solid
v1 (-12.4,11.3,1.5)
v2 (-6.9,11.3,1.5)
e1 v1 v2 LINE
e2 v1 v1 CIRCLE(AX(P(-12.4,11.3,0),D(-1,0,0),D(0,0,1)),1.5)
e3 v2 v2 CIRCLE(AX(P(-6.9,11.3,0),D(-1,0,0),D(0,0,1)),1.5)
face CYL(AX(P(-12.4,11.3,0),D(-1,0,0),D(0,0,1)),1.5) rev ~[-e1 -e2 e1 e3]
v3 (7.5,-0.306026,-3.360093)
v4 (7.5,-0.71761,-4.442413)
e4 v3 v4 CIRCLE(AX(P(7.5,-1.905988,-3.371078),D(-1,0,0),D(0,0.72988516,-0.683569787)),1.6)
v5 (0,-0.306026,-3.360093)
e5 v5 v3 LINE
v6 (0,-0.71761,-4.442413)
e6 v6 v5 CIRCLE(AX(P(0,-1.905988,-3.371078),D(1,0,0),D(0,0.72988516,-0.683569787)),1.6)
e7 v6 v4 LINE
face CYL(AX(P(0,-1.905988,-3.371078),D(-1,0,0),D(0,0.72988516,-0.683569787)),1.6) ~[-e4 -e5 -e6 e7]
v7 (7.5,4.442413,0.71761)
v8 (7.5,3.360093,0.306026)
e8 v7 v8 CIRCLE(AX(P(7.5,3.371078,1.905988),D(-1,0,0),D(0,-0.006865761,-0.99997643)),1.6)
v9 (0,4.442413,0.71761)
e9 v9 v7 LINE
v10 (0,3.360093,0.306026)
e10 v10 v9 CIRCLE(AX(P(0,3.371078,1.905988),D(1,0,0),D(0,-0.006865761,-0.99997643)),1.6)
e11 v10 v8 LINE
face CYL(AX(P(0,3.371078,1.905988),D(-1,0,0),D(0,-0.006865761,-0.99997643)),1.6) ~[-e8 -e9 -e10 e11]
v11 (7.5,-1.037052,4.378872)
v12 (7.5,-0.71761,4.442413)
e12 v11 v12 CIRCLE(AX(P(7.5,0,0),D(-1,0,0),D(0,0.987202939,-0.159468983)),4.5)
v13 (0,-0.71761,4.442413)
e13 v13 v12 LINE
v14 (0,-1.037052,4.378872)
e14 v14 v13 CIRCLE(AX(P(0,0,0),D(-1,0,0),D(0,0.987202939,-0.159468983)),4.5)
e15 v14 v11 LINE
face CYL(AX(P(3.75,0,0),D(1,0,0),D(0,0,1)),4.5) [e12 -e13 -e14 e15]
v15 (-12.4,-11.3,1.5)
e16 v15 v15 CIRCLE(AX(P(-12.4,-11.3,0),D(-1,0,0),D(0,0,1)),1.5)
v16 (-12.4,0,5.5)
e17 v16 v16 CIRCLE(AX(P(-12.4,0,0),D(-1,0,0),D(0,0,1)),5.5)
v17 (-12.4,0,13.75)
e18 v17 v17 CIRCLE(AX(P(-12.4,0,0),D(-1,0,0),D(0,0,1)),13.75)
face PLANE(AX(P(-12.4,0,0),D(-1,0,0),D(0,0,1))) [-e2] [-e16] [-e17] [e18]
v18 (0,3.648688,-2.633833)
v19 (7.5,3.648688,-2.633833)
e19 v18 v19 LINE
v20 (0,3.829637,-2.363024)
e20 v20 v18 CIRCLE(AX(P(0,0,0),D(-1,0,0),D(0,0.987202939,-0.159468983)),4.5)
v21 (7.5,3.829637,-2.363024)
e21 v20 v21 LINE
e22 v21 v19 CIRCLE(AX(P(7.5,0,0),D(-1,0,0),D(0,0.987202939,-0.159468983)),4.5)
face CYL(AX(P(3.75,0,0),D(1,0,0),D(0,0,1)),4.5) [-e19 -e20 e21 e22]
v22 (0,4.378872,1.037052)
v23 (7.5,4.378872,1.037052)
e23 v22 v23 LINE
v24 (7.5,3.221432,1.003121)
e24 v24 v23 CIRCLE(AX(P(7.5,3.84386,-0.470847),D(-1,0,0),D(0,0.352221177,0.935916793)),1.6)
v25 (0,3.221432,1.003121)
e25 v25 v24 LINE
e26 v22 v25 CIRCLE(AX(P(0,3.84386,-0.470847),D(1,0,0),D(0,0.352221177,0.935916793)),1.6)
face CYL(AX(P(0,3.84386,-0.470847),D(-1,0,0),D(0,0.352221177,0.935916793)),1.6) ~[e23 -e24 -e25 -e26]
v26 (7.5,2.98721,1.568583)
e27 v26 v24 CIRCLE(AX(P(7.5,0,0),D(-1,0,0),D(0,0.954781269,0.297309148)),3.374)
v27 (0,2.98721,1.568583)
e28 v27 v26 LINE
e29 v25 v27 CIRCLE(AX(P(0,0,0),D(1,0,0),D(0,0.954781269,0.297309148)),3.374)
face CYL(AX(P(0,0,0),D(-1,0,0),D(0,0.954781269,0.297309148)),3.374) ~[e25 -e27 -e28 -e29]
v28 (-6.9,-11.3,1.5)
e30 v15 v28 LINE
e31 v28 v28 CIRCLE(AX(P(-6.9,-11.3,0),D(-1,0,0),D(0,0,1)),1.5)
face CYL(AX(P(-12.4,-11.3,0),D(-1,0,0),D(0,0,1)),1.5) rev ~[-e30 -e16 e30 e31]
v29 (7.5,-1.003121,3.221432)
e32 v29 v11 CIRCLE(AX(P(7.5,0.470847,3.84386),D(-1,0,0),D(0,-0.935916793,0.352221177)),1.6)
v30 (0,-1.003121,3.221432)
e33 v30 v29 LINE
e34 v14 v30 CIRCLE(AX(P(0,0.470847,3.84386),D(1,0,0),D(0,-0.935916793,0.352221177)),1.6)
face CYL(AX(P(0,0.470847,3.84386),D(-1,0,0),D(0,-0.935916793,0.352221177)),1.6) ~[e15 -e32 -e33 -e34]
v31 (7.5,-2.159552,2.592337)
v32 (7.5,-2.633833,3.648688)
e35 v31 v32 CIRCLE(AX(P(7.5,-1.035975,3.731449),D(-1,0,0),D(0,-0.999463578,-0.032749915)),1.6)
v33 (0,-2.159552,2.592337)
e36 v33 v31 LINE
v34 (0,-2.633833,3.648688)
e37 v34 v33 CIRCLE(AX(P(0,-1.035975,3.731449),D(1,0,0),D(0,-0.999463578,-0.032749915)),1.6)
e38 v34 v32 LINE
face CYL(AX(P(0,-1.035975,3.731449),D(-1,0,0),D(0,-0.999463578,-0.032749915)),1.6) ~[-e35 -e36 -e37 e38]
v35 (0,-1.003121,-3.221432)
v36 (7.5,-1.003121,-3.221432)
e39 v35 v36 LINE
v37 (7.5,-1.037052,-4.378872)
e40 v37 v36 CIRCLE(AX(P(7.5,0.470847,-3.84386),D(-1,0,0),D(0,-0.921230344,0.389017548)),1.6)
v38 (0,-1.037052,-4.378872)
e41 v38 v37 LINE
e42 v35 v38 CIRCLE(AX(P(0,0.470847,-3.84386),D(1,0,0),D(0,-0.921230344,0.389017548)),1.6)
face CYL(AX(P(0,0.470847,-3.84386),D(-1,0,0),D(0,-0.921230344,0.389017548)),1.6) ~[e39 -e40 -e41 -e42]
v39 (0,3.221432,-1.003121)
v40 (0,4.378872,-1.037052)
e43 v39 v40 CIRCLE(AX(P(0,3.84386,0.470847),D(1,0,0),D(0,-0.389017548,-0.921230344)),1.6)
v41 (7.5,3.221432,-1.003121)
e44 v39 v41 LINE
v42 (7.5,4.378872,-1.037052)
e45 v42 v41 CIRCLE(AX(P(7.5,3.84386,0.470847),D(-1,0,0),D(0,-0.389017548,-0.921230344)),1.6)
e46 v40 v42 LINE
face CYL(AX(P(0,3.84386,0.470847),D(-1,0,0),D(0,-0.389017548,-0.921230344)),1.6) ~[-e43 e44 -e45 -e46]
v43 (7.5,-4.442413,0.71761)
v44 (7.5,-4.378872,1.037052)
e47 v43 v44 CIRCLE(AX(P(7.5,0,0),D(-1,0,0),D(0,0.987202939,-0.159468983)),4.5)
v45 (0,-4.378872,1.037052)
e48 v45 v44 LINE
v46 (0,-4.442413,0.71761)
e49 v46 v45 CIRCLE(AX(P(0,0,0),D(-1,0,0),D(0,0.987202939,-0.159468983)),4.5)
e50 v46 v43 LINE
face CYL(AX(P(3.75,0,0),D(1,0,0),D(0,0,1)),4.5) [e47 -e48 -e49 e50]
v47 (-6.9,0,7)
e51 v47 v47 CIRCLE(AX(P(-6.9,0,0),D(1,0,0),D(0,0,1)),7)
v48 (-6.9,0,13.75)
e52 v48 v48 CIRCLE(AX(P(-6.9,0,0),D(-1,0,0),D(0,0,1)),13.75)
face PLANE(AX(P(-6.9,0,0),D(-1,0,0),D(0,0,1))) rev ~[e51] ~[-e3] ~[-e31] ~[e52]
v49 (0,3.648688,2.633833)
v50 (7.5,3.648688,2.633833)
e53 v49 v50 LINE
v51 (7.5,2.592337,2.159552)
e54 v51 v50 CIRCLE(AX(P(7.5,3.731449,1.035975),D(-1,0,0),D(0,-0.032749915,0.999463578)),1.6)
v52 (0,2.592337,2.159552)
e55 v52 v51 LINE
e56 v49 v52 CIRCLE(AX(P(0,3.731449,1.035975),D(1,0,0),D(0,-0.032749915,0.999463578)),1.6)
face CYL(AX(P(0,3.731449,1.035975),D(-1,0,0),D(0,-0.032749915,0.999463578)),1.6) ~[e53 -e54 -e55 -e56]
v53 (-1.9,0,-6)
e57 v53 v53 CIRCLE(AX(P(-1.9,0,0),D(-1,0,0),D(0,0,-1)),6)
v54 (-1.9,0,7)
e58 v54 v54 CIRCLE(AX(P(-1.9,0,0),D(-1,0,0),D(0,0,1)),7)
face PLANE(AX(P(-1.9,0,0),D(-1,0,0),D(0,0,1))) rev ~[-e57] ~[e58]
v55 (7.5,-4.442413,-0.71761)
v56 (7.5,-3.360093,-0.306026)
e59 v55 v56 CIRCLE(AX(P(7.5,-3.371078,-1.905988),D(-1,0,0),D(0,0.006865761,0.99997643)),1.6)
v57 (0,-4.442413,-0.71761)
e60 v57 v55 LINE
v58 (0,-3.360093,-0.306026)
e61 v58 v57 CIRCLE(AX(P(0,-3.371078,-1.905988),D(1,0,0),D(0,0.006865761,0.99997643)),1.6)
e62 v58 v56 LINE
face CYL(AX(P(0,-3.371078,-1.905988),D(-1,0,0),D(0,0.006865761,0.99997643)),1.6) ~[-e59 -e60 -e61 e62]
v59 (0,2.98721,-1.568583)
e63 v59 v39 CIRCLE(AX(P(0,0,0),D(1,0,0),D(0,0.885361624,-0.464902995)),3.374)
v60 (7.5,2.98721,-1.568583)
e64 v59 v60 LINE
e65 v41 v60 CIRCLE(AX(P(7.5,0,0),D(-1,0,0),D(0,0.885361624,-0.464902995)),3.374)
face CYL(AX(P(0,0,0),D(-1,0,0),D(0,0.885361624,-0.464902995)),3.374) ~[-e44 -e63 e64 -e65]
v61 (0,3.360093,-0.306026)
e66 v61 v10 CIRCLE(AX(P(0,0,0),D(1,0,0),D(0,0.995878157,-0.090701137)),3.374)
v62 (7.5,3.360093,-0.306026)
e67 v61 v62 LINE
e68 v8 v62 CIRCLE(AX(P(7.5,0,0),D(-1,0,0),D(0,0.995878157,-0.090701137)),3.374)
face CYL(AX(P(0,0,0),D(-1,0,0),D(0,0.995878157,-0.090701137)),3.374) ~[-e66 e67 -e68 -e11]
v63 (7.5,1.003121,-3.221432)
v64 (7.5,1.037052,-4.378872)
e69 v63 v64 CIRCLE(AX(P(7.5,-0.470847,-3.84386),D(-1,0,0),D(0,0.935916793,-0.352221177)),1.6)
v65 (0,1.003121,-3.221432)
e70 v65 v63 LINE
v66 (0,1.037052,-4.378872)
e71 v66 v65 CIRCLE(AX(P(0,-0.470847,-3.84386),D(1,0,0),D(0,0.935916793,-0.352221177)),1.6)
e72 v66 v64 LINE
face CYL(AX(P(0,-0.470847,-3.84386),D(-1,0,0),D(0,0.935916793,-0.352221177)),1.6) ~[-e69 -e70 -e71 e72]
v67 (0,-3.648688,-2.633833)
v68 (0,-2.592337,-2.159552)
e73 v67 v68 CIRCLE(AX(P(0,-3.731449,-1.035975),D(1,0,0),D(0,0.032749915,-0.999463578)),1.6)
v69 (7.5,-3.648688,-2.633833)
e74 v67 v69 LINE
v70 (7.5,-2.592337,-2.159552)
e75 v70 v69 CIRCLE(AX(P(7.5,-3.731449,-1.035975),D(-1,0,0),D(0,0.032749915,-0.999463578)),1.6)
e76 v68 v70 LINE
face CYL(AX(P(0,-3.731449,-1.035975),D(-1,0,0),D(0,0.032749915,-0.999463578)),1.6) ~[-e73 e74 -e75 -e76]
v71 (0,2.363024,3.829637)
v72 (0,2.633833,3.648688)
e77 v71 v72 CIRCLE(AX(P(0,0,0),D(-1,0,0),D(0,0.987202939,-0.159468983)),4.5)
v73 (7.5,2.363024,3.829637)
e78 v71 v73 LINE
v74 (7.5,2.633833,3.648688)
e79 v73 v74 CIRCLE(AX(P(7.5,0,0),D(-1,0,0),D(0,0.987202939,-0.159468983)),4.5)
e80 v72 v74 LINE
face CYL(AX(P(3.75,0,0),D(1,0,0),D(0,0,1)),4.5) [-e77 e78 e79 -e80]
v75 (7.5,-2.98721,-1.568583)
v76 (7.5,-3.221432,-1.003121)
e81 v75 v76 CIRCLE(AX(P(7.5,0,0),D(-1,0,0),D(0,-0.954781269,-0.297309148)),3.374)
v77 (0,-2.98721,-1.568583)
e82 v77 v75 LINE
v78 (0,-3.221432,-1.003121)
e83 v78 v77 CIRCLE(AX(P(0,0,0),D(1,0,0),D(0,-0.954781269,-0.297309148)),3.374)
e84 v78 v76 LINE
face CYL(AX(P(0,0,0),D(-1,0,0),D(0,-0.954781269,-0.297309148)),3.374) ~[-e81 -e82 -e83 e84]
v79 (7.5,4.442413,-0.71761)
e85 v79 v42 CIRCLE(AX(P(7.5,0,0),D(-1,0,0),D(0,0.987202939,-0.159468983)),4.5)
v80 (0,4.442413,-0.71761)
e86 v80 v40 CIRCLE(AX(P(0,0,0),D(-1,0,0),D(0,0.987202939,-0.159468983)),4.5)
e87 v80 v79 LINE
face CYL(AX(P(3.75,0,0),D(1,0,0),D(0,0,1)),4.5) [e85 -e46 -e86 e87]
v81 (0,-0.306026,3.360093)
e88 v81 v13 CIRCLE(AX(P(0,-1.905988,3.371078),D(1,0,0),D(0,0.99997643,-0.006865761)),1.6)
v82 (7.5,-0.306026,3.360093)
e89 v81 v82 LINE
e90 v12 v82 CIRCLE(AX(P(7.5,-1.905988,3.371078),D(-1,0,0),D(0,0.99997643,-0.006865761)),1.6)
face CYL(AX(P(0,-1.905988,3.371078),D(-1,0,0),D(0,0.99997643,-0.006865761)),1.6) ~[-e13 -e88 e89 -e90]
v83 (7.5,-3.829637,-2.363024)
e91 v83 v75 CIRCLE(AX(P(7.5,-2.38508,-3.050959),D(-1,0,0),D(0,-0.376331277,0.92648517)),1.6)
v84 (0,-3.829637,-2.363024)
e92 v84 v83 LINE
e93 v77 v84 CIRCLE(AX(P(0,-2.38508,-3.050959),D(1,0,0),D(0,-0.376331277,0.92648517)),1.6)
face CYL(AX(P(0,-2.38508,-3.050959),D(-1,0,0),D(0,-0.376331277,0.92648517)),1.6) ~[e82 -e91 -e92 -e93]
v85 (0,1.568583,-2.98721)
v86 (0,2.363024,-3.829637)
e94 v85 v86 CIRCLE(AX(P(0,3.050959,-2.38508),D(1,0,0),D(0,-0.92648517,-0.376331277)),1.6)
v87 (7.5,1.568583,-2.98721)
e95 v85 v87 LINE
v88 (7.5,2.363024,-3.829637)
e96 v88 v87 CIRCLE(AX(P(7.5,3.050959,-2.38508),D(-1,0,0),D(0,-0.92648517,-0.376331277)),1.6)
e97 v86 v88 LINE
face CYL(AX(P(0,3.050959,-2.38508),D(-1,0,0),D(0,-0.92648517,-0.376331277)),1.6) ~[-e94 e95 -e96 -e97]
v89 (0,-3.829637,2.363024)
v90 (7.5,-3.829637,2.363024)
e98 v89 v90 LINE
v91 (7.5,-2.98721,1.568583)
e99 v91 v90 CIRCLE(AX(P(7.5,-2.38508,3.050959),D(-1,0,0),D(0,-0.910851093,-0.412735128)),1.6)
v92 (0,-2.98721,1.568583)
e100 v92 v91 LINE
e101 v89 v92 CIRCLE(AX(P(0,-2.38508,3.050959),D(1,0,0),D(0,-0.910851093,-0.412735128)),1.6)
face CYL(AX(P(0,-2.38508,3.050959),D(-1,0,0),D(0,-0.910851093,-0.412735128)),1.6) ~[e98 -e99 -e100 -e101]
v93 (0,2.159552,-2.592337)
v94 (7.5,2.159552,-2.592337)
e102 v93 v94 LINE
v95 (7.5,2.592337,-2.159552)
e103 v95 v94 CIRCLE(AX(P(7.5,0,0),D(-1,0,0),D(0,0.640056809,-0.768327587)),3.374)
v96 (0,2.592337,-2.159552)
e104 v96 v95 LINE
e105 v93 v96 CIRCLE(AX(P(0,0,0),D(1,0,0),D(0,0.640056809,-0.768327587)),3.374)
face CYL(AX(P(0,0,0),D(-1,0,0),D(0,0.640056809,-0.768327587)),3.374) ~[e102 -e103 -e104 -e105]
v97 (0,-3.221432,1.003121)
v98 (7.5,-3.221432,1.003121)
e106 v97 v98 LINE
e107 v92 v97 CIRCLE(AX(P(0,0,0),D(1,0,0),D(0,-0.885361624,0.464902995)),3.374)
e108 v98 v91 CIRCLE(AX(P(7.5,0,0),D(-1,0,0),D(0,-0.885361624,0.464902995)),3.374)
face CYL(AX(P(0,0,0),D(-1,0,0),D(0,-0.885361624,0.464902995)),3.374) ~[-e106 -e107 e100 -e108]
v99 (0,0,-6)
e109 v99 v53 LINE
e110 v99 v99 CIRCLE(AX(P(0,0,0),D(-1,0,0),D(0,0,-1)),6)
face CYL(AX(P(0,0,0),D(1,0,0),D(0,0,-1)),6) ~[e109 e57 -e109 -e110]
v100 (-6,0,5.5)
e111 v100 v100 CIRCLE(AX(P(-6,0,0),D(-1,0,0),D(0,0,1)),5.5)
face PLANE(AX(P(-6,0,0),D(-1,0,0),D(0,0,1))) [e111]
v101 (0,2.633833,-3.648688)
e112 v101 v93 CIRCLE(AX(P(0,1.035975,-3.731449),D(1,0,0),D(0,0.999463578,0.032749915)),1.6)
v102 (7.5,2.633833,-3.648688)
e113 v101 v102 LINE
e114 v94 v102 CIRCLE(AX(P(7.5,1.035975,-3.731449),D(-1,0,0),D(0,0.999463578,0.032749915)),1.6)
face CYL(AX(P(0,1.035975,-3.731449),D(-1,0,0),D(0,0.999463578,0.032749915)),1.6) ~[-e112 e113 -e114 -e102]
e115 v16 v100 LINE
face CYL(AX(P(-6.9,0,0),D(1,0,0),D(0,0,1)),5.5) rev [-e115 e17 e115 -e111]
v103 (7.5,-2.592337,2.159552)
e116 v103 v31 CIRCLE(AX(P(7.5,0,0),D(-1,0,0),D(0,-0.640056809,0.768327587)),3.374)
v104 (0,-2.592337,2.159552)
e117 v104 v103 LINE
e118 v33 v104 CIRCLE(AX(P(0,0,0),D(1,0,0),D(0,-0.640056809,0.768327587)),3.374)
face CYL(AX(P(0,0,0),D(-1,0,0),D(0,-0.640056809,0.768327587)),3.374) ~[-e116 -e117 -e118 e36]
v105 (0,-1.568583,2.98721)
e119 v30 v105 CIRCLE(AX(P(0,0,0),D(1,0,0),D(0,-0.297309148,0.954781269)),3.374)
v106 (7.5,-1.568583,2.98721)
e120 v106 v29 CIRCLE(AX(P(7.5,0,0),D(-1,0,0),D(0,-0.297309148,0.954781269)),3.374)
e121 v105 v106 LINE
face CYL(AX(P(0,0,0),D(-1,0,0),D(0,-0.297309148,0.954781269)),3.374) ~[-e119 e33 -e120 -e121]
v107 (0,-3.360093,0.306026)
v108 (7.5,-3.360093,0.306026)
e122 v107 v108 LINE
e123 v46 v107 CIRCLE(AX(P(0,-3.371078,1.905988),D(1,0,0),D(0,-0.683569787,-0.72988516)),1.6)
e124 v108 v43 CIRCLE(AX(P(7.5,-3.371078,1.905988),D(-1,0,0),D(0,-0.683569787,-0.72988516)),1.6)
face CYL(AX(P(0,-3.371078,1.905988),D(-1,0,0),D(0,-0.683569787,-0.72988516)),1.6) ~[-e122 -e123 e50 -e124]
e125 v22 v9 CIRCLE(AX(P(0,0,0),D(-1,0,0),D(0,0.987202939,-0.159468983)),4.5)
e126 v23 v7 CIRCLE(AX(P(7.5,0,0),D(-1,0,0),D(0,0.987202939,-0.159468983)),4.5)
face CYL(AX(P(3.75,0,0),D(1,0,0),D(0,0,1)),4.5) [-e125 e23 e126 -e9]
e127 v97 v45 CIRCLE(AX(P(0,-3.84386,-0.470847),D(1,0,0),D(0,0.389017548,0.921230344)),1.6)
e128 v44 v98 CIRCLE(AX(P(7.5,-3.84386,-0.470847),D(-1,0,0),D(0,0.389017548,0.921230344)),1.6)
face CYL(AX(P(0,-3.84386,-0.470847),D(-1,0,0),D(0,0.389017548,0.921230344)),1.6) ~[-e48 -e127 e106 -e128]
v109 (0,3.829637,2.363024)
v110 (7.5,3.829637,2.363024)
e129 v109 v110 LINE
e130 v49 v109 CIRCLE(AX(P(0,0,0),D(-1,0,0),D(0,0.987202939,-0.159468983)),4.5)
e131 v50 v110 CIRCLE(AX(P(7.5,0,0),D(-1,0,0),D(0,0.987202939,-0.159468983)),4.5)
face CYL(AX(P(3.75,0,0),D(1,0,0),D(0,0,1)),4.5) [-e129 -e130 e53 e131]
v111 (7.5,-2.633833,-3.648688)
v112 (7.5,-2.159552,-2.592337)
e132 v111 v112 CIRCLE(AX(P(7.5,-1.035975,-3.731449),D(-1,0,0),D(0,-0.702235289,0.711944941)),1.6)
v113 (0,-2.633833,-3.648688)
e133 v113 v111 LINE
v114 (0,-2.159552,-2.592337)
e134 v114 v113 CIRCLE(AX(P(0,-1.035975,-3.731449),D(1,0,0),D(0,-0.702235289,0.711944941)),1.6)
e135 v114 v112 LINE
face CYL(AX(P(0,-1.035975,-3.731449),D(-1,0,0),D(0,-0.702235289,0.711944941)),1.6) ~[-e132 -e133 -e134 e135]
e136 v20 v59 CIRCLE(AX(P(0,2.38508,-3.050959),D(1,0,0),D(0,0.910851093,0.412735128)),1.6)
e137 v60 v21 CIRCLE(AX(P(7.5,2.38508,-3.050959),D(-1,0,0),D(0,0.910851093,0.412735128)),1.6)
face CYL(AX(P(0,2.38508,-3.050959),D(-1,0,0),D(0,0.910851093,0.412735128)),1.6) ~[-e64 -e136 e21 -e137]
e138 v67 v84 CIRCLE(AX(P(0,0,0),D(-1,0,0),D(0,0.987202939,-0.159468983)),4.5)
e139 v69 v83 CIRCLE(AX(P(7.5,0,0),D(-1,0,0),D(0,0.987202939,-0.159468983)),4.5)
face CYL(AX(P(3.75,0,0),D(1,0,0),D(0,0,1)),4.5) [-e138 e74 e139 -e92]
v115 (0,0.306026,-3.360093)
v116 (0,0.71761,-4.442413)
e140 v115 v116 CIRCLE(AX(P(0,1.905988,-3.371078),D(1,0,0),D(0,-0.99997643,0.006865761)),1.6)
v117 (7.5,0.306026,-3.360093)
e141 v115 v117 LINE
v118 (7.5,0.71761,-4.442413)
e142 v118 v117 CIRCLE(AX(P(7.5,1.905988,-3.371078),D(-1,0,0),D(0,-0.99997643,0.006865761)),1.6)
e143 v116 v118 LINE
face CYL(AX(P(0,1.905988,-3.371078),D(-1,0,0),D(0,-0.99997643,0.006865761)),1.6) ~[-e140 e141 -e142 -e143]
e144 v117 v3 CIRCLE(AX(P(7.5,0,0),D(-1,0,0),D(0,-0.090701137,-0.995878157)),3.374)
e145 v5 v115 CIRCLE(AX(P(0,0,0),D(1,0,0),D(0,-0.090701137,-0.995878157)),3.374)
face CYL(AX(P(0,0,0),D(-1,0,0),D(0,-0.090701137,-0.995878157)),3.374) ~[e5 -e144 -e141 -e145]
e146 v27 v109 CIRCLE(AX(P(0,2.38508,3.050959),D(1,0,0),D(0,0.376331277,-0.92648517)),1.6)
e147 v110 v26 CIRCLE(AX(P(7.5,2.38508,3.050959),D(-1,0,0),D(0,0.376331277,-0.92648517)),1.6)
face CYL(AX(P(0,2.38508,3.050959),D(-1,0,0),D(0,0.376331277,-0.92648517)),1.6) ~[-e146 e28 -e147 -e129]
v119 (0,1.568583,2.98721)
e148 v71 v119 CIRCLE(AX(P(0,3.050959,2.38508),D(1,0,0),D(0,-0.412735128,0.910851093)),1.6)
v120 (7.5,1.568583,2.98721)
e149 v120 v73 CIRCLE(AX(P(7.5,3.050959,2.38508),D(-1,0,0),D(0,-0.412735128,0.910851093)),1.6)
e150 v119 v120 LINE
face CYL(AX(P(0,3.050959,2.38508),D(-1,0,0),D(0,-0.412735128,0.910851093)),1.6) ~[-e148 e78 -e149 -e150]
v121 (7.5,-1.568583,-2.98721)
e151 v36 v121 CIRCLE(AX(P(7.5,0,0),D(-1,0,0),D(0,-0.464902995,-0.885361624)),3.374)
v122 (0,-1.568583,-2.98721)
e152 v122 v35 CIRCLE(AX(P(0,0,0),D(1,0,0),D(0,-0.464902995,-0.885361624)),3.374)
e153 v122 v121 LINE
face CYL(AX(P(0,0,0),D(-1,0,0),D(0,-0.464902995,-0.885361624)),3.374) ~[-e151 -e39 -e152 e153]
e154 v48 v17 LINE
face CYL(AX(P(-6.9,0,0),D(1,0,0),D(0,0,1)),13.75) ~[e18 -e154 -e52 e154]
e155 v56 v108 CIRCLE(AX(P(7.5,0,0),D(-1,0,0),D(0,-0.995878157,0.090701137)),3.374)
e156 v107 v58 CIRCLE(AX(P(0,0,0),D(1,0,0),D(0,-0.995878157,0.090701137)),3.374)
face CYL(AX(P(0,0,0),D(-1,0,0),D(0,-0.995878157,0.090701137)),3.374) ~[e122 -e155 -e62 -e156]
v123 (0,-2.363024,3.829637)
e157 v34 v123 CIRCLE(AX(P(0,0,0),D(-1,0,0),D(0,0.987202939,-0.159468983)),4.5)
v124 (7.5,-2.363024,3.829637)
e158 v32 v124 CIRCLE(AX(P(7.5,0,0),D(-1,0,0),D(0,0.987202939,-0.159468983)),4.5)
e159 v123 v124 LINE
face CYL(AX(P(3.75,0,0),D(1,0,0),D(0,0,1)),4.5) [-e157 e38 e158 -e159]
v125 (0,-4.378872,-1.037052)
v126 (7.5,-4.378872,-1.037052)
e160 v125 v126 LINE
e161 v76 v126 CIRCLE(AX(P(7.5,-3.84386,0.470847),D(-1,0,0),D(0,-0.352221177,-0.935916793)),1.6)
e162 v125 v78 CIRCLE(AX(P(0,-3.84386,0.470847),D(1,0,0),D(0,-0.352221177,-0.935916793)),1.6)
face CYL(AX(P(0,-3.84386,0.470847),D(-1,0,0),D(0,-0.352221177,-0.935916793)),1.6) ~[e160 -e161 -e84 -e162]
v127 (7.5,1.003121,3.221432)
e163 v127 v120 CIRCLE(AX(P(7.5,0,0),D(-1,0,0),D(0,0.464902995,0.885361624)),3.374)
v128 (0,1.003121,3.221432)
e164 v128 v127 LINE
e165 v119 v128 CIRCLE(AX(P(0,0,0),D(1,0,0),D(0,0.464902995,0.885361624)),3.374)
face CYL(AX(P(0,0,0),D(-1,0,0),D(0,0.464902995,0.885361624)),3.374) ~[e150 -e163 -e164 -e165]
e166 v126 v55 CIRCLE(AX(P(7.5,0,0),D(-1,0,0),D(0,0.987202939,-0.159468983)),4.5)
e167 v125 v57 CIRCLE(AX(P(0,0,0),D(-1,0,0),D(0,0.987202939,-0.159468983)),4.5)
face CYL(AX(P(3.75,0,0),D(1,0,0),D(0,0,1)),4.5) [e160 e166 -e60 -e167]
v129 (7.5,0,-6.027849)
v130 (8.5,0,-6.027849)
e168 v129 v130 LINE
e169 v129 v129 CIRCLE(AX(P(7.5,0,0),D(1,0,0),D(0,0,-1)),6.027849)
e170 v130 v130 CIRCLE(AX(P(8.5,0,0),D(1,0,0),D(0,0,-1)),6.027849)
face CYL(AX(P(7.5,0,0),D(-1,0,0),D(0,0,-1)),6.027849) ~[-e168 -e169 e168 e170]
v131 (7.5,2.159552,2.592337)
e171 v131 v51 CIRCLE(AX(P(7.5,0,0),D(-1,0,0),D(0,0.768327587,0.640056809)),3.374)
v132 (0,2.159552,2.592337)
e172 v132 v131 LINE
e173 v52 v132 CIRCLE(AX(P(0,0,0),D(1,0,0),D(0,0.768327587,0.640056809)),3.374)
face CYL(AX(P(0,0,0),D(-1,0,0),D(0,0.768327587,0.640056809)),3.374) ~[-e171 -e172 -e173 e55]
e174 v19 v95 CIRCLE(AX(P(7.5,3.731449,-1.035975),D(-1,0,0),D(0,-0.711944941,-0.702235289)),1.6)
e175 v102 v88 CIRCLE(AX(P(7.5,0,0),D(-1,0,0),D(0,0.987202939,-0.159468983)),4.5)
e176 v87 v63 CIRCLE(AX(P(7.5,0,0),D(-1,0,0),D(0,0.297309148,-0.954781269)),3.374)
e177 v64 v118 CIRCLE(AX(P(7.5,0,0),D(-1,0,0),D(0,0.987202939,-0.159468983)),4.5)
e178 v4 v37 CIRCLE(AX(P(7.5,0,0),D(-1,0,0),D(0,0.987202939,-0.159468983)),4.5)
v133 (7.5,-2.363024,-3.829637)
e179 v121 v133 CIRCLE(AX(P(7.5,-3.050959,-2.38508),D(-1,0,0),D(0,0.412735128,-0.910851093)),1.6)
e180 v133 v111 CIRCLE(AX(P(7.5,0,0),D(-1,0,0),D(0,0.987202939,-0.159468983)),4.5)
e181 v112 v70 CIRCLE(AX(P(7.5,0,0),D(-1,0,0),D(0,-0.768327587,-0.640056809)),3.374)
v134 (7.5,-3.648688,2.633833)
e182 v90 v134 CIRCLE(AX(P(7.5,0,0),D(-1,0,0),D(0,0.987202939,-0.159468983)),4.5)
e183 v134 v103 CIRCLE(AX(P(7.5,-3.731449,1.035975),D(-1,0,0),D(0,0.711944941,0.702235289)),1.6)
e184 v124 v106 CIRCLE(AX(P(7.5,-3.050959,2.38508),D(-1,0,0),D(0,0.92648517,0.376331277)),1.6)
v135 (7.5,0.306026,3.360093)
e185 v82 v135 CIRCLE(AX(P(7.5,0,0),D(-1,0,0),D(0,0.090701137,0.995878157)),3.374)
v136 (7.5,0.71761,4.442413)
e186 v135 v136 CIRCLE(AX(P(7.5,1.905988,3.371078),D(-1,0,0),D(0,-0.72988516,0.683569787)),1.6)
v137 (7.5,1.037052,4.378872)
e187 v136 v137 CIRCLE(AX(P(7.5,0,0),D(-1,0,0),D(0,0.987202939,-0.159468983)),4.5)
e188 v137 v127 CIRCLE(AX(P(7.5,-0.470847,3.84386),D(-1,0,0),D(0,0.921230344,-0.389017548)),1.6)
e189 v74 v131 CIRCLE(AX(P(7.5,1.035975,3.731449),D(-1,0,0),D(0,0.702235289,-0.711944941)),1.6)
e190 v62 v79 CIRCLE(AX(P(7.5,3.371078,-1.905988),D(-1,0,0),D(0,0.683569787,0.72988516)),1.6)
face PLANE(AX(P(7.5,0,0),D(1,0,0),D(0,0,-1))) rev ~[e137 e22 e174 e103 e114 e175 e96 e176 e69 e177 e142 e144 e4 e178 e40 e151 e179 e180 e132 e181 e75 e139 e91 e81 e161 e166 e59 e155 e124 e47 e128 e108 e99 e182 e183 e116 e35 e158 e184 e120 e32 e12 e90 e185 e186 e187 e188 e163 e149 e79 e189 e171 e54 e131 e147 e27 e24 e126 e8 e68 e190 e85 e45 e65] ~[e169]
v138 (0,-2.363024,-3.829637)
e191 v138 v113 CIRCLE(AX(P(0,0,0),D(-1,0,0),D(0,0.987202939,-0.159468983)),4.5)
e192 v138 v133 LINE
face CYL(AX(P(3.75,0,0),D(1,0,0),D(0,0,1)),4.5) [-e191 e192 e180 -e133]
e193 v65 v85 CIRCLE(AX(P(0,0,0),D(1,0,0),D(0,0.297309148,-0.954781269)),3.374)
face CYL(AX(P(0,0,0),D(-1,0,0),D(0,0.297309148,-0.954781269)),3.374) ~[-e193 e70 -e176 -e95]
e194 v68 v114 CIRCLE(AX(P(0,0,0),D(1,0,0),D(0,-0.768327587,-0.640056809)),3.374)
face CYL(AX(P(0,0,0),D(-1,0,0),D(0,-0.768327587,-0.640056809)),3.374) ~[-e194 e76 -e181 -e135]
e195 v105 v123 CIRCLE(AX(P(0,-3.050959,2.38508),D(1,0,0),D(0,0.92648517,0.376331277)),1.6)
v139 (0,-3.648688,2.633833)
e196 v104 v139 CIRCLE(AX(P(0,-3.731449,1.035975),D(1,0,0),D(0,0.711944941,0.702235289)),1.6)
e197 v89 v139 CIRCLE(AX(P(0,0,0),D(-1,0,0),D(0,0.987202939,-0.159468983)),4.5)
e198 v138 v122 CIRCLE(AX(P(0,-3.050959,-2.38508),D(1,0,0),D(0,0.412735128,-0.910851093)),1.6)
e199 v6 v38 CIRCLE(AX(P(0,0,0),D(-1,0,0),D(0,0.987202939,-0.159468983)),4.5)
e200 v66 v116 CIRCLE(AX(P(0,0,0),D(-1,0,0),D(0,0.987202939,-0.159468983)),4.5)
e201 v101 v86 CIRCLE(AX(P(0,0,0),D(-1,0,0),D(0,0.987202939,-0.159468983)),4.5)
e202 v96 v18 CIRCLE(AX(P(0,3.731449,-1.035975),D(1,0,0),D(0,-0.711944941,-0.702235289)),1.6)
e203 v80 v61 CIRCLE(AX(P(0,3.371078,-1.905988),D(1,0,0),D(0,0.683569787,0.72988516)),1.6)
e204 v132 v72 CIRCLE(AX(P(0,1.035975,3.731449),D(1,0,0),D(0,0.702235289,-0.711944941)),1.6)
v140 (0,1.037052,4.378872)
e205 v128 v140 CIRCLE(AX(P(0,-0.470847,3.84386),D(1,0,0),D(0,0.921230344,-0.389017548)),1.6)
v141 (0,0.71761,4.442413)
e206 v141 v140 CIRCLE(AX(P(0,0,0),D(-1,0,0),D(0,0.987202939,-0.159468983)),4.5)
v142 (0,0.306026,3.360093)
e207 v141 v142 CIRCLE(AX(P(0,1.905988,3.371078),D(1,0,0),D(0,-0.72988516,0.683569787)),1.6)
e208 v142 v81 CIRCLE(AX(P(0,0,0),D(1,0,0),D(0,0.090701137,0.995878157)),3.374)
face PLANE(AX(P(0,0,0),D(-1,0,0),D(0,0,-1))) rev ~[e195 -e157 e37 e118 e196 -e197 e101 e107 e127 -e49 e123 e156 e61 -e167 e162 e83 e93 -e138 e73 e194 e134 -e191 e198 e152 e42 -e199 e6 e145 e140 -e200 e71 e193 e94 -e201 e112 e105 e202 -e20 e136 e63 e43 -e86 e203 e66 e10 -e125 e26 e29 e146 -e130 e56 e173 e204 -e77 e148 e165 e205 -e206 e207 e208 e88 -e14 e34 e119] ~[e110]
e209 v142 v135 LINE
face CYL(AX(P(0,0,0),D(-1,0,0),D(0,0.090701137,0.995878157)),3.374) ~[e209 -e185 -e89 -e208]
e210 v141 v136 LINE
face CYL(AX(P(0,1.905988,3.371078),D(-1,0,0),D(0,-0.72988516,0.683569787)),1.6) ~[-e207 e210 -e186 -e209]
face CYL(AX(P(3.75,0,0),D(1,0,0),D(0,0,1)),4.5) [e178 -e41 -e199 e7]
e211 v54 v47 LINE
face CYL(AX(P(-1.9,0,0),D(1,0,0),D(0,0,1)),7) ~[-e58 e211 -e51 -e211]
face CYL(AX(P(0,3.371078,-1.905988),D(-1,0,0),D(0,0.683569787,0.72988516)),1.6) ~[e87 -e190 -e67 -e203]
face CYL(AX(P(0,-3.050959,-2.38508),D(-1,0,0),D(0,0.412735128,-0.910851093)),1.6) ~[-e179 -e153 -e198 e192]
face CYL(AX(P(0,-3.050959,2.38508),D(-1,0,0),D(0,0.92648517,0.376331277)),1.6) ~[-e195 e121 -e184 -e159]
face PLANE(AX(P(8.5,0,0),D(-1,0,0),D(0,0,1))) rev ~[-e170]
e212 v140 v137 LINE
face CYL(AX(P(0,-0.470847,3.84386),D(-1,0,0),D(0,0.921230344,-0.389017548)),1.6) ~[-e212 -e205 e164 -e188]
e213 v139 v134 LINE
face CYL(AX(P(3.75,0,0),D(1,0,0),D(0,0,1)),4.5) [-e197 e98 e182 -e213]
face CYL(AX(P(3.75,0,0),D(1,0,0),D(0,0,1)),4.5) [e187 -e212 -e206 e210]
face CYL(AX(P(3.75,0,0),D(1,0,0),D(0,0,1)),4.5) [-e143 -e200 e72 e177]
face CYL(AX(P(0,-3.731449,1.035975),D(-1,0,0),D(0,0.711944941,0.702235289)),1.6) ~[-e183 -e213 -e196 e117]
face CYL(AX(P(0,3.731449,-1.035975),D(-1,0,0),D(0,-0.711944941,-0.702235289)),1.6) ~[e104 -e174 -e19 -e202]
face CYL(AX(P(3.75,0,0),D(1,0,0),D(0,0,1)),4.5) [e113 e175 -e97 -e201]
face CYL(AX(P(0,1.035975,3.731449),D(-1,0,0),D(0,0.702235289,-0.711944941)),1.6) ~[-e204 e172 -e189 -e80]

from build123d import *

# Parameters (mm, degrees)
BASPROSKE_W             = 7.5
BASPROSKE_H             = 4.5
TOOTHCUT_DEPTH          = 10.836157786
TEETHCUTS_COUNT         = 16
TEETHCUTS_ANGLE         = 337.5
BORSKE_R                = 2.5
BORE_DEPTH              = 50.0000508
ESQUISSE4_R             = 6
BOSS_EXTRU_3_DEPTH      = 1.9
ESQUISSE5_R             = 6.027848577
ESQUISSE5_R_2           = 2.85
BOSS_EXTRU_4_DEPTH      = 1
ESQUISSE7_R             = 3.00711341
BOSS_EXTRU_6_DEPTH      = 8.5
ESQUISSE8_R             = 7
ESQUISSE8_R_2           = 5.5
BOSS_EXTRU_7_DEPTH      = 7
BOSS_EXTRU_8_DEPTH      = 3.5
BOSS_EXTRU_8_DEPTH_BACK = 2
ESQUISSE9_R             = 13.75
ESQUISSE9_R_2           = 5.5
ESQUISSE10_R            = 1.5
ENL_V_MAT_EXTRU_3_DEPTH = 29.547066399
ESQUISSE11_R            = 3
ENL_V_MAT_EXTRU_4_DEPTH = 4
BOSS_EXTRU_9_START      = 2.1
ESQUISSE13_R            = 5.5
BOSS_EXTRU_9_DEPTH      = 10
ENL_V_START             = -4
ESQUISSE14_R            = 5.5
ENL_V_MAT_EXTRU_5_DEPTH = 4
ESQUISSE15_R            = 3.3
BOSS_EXTRU_10_DEPTH     = 14.5


with BuildPart() as part:
    # BasProSke → Base-Revolve (revolve)
    with BuildSketch(Plane(origin=(0, 0, 0), x_dir=(1, 0, 0), z_dir=(0, 1, 0)), mode=Mode.PRIVATE) as base_revolve_sk:
        with Locations((3.75, 2.25)):
            Rectangle(BASPROSKE_W, BASPROSKE_H)
    revolve(base_revolve_sk.sketch.rotate(Axis((-10, 0, 0), (1, 0, 0)), 180), axis=Axis((-10, 0, 0), (1, 0, 0)))

    # TooCutSke → ToothCut (cut, through all)
    with BuildSketch(Plane(origin=(0, 0, 0), x_dir=(0, 0, -1), z_dir=(1, 0, 0))):
        with BuildLine():
            ThreePointArc((0.306025637, 3.360092902), (0, 3.374), (-0.306025637, 3.360092902))
            ThreePointArc((-0.306025637, 3.360092902), (-0.415941512, 3.953968919), (-0.738171669, 4.464789776))
            ThreePointArc((-0.738171669, 4.464789776), (0, 4.5254), (0.738171669, 4.464789776))
            ThreePointArc((0.738171669, 4.464789776), (0.415941512, 3.953968919), (0.306025637, 3.360092902))
        make_face()
    toothcut = extrude(amount=TOOTHCUT_DEPTH, mode=Mode.SUBTRACT)

    # TeethCuts: ToothCut ×16 about axis
    teethcuts_axis = Axis((-10, 0, 0), (1, 0, 0))
    for i in range(1, TEETHCUTS_COUNT):
        add(toothcut.rotate(teethcuts_axis, i * TEETHCUTS_ANGLE / (TEETHCUTS_COUNT - 1)), mode=Mode.SUBTRACT)

    # BorSke → Bore (cut, symmetric)
    with BuildSketch(Plane(origin=(0, 0, 0), x_dir=(0, 0, -1), z_dir=(1, 0, 0))):
        with Locations(Location((0, 0, 0), (0, 0, 180))):
            Circle(BORSKE_R)
    extrude(amount=BORE_DEPTH, both=True, mode=Mode.SUBTRACT)

    # Esquisse4 → Boss.-Extru.3 (add)
    with BuildSketch(Plane.ZY):
        with Locations(Location((0, 0, 0), (0, 0, 180))):
            Circle(ESQUISSE4_R)
    extrude(amount=BOSS_EXTRU_3_DEPTH)

    # Esquisse5 → Boss.-Extru.4 (add)
    with BuildSketch(Plane(origin=(7.5, 0, 0), x_dir=(0, 0, -1), z_dir=(1, 0, 0))):
        Circle(ESQUISSE5_R)
        Circle(ESQUISSE5_R_2, mode=Mode.SUBTRACT)
    extrude(amount=BOSS_EXTRU_4_DEPTH)

    # Esquisse7 → Boss.-Extru.6 (add)
    with BuildSketch(Plane(origin=(0, 0, 0), x_dir=(0, 0, -1), z_dir=(1, 0, 0))):
        Circle(ESQUISSE7_R)
    extrude(amount=BOSS_EXTRU_6_DEPTH)

    # Esquisse8 → Boss.-Extru.7 (add)
    with BuildSketch(Plane.ZY.offset(1.9)):
        Circle(ESQUISSE8_R)
        Circle(ESQUISSE8_R_2, mode=Mode.SUBTRACT)
    extrude(amount=BOSS_EXTRU_7_DEPTH)

    # Esquisse9 → Boss.-Extru.8 (add, two sides: drawn at the far end of the back side and taken through both)
    with BuildSketch(Plane.ZY.offset(8.9).offset(-BOSS_EXTRU_8_DEPTH_BACK)):
        Circle(ESQUISSE9_R)
        Circle(ESQUISSE9_R_2, mode=Mode.SUBTRACT)
    extrude(amount=BOSS_EXTRU_8_DEPTH + BOSS_EXTRU_8_DEPTH_BACK)

    # Esquisse10 → Enlèv. mat.-Extru.3 (cut, through all)
    with BuildSketch(Plane.ZY.offset(12.4)):
        with Locations((0, 11.3)):
            Circle(ESQUISSE10_R)
        with Locations((0, -11.3)):
            Circle(ESQUISSE10_R)
    extrude(amount=-ENL_V_MAT_EXTRU_3_DEPTH, mode=Mode.SUBTRACT)

    # Esquisse11 → Enlèv. mat.-Extru.4 (cut)
    with BuildSketch(Plane.ZY.offset(1.9)):
        Circle(ESQUISSE11_R)
    extrude(amount=-ENL_V_MAT_EXTRU_4_DEPTH, mode=Mode.SUBTRACT)

    # Esquisse13 → Boss.-Extru.9 (add)
    with BuildSketch(Plane.ZY.offset(-2.1).offset(BOSS_EXTRU_9_START)):
        Circle(ESQUISSE13_R)
    extrude(amount=BOSS_EXTRU_9_DEPTH)

    # Esquisse14 → Enlèv. mat.-Extru.5 (cut)
    with BuildSketch(Plane.ZY.offset(10).offset(ENL_V_START)):
        Circle(ESQUISSE14_R)
    extrude(amount=ENL_V_MAT_EXTRU_5_DEPTH, mode=Mode.SUBTRACT)

    # Esquisse15 → Boss.-Extru.10 (add)
    with BuildSketch(Plane.ZY.offset(6)):
        Circle(ESQUISSE15_R)
    extrude(amount=-BOSS_EXTRU_10_DEPTH)


solid = part.part
